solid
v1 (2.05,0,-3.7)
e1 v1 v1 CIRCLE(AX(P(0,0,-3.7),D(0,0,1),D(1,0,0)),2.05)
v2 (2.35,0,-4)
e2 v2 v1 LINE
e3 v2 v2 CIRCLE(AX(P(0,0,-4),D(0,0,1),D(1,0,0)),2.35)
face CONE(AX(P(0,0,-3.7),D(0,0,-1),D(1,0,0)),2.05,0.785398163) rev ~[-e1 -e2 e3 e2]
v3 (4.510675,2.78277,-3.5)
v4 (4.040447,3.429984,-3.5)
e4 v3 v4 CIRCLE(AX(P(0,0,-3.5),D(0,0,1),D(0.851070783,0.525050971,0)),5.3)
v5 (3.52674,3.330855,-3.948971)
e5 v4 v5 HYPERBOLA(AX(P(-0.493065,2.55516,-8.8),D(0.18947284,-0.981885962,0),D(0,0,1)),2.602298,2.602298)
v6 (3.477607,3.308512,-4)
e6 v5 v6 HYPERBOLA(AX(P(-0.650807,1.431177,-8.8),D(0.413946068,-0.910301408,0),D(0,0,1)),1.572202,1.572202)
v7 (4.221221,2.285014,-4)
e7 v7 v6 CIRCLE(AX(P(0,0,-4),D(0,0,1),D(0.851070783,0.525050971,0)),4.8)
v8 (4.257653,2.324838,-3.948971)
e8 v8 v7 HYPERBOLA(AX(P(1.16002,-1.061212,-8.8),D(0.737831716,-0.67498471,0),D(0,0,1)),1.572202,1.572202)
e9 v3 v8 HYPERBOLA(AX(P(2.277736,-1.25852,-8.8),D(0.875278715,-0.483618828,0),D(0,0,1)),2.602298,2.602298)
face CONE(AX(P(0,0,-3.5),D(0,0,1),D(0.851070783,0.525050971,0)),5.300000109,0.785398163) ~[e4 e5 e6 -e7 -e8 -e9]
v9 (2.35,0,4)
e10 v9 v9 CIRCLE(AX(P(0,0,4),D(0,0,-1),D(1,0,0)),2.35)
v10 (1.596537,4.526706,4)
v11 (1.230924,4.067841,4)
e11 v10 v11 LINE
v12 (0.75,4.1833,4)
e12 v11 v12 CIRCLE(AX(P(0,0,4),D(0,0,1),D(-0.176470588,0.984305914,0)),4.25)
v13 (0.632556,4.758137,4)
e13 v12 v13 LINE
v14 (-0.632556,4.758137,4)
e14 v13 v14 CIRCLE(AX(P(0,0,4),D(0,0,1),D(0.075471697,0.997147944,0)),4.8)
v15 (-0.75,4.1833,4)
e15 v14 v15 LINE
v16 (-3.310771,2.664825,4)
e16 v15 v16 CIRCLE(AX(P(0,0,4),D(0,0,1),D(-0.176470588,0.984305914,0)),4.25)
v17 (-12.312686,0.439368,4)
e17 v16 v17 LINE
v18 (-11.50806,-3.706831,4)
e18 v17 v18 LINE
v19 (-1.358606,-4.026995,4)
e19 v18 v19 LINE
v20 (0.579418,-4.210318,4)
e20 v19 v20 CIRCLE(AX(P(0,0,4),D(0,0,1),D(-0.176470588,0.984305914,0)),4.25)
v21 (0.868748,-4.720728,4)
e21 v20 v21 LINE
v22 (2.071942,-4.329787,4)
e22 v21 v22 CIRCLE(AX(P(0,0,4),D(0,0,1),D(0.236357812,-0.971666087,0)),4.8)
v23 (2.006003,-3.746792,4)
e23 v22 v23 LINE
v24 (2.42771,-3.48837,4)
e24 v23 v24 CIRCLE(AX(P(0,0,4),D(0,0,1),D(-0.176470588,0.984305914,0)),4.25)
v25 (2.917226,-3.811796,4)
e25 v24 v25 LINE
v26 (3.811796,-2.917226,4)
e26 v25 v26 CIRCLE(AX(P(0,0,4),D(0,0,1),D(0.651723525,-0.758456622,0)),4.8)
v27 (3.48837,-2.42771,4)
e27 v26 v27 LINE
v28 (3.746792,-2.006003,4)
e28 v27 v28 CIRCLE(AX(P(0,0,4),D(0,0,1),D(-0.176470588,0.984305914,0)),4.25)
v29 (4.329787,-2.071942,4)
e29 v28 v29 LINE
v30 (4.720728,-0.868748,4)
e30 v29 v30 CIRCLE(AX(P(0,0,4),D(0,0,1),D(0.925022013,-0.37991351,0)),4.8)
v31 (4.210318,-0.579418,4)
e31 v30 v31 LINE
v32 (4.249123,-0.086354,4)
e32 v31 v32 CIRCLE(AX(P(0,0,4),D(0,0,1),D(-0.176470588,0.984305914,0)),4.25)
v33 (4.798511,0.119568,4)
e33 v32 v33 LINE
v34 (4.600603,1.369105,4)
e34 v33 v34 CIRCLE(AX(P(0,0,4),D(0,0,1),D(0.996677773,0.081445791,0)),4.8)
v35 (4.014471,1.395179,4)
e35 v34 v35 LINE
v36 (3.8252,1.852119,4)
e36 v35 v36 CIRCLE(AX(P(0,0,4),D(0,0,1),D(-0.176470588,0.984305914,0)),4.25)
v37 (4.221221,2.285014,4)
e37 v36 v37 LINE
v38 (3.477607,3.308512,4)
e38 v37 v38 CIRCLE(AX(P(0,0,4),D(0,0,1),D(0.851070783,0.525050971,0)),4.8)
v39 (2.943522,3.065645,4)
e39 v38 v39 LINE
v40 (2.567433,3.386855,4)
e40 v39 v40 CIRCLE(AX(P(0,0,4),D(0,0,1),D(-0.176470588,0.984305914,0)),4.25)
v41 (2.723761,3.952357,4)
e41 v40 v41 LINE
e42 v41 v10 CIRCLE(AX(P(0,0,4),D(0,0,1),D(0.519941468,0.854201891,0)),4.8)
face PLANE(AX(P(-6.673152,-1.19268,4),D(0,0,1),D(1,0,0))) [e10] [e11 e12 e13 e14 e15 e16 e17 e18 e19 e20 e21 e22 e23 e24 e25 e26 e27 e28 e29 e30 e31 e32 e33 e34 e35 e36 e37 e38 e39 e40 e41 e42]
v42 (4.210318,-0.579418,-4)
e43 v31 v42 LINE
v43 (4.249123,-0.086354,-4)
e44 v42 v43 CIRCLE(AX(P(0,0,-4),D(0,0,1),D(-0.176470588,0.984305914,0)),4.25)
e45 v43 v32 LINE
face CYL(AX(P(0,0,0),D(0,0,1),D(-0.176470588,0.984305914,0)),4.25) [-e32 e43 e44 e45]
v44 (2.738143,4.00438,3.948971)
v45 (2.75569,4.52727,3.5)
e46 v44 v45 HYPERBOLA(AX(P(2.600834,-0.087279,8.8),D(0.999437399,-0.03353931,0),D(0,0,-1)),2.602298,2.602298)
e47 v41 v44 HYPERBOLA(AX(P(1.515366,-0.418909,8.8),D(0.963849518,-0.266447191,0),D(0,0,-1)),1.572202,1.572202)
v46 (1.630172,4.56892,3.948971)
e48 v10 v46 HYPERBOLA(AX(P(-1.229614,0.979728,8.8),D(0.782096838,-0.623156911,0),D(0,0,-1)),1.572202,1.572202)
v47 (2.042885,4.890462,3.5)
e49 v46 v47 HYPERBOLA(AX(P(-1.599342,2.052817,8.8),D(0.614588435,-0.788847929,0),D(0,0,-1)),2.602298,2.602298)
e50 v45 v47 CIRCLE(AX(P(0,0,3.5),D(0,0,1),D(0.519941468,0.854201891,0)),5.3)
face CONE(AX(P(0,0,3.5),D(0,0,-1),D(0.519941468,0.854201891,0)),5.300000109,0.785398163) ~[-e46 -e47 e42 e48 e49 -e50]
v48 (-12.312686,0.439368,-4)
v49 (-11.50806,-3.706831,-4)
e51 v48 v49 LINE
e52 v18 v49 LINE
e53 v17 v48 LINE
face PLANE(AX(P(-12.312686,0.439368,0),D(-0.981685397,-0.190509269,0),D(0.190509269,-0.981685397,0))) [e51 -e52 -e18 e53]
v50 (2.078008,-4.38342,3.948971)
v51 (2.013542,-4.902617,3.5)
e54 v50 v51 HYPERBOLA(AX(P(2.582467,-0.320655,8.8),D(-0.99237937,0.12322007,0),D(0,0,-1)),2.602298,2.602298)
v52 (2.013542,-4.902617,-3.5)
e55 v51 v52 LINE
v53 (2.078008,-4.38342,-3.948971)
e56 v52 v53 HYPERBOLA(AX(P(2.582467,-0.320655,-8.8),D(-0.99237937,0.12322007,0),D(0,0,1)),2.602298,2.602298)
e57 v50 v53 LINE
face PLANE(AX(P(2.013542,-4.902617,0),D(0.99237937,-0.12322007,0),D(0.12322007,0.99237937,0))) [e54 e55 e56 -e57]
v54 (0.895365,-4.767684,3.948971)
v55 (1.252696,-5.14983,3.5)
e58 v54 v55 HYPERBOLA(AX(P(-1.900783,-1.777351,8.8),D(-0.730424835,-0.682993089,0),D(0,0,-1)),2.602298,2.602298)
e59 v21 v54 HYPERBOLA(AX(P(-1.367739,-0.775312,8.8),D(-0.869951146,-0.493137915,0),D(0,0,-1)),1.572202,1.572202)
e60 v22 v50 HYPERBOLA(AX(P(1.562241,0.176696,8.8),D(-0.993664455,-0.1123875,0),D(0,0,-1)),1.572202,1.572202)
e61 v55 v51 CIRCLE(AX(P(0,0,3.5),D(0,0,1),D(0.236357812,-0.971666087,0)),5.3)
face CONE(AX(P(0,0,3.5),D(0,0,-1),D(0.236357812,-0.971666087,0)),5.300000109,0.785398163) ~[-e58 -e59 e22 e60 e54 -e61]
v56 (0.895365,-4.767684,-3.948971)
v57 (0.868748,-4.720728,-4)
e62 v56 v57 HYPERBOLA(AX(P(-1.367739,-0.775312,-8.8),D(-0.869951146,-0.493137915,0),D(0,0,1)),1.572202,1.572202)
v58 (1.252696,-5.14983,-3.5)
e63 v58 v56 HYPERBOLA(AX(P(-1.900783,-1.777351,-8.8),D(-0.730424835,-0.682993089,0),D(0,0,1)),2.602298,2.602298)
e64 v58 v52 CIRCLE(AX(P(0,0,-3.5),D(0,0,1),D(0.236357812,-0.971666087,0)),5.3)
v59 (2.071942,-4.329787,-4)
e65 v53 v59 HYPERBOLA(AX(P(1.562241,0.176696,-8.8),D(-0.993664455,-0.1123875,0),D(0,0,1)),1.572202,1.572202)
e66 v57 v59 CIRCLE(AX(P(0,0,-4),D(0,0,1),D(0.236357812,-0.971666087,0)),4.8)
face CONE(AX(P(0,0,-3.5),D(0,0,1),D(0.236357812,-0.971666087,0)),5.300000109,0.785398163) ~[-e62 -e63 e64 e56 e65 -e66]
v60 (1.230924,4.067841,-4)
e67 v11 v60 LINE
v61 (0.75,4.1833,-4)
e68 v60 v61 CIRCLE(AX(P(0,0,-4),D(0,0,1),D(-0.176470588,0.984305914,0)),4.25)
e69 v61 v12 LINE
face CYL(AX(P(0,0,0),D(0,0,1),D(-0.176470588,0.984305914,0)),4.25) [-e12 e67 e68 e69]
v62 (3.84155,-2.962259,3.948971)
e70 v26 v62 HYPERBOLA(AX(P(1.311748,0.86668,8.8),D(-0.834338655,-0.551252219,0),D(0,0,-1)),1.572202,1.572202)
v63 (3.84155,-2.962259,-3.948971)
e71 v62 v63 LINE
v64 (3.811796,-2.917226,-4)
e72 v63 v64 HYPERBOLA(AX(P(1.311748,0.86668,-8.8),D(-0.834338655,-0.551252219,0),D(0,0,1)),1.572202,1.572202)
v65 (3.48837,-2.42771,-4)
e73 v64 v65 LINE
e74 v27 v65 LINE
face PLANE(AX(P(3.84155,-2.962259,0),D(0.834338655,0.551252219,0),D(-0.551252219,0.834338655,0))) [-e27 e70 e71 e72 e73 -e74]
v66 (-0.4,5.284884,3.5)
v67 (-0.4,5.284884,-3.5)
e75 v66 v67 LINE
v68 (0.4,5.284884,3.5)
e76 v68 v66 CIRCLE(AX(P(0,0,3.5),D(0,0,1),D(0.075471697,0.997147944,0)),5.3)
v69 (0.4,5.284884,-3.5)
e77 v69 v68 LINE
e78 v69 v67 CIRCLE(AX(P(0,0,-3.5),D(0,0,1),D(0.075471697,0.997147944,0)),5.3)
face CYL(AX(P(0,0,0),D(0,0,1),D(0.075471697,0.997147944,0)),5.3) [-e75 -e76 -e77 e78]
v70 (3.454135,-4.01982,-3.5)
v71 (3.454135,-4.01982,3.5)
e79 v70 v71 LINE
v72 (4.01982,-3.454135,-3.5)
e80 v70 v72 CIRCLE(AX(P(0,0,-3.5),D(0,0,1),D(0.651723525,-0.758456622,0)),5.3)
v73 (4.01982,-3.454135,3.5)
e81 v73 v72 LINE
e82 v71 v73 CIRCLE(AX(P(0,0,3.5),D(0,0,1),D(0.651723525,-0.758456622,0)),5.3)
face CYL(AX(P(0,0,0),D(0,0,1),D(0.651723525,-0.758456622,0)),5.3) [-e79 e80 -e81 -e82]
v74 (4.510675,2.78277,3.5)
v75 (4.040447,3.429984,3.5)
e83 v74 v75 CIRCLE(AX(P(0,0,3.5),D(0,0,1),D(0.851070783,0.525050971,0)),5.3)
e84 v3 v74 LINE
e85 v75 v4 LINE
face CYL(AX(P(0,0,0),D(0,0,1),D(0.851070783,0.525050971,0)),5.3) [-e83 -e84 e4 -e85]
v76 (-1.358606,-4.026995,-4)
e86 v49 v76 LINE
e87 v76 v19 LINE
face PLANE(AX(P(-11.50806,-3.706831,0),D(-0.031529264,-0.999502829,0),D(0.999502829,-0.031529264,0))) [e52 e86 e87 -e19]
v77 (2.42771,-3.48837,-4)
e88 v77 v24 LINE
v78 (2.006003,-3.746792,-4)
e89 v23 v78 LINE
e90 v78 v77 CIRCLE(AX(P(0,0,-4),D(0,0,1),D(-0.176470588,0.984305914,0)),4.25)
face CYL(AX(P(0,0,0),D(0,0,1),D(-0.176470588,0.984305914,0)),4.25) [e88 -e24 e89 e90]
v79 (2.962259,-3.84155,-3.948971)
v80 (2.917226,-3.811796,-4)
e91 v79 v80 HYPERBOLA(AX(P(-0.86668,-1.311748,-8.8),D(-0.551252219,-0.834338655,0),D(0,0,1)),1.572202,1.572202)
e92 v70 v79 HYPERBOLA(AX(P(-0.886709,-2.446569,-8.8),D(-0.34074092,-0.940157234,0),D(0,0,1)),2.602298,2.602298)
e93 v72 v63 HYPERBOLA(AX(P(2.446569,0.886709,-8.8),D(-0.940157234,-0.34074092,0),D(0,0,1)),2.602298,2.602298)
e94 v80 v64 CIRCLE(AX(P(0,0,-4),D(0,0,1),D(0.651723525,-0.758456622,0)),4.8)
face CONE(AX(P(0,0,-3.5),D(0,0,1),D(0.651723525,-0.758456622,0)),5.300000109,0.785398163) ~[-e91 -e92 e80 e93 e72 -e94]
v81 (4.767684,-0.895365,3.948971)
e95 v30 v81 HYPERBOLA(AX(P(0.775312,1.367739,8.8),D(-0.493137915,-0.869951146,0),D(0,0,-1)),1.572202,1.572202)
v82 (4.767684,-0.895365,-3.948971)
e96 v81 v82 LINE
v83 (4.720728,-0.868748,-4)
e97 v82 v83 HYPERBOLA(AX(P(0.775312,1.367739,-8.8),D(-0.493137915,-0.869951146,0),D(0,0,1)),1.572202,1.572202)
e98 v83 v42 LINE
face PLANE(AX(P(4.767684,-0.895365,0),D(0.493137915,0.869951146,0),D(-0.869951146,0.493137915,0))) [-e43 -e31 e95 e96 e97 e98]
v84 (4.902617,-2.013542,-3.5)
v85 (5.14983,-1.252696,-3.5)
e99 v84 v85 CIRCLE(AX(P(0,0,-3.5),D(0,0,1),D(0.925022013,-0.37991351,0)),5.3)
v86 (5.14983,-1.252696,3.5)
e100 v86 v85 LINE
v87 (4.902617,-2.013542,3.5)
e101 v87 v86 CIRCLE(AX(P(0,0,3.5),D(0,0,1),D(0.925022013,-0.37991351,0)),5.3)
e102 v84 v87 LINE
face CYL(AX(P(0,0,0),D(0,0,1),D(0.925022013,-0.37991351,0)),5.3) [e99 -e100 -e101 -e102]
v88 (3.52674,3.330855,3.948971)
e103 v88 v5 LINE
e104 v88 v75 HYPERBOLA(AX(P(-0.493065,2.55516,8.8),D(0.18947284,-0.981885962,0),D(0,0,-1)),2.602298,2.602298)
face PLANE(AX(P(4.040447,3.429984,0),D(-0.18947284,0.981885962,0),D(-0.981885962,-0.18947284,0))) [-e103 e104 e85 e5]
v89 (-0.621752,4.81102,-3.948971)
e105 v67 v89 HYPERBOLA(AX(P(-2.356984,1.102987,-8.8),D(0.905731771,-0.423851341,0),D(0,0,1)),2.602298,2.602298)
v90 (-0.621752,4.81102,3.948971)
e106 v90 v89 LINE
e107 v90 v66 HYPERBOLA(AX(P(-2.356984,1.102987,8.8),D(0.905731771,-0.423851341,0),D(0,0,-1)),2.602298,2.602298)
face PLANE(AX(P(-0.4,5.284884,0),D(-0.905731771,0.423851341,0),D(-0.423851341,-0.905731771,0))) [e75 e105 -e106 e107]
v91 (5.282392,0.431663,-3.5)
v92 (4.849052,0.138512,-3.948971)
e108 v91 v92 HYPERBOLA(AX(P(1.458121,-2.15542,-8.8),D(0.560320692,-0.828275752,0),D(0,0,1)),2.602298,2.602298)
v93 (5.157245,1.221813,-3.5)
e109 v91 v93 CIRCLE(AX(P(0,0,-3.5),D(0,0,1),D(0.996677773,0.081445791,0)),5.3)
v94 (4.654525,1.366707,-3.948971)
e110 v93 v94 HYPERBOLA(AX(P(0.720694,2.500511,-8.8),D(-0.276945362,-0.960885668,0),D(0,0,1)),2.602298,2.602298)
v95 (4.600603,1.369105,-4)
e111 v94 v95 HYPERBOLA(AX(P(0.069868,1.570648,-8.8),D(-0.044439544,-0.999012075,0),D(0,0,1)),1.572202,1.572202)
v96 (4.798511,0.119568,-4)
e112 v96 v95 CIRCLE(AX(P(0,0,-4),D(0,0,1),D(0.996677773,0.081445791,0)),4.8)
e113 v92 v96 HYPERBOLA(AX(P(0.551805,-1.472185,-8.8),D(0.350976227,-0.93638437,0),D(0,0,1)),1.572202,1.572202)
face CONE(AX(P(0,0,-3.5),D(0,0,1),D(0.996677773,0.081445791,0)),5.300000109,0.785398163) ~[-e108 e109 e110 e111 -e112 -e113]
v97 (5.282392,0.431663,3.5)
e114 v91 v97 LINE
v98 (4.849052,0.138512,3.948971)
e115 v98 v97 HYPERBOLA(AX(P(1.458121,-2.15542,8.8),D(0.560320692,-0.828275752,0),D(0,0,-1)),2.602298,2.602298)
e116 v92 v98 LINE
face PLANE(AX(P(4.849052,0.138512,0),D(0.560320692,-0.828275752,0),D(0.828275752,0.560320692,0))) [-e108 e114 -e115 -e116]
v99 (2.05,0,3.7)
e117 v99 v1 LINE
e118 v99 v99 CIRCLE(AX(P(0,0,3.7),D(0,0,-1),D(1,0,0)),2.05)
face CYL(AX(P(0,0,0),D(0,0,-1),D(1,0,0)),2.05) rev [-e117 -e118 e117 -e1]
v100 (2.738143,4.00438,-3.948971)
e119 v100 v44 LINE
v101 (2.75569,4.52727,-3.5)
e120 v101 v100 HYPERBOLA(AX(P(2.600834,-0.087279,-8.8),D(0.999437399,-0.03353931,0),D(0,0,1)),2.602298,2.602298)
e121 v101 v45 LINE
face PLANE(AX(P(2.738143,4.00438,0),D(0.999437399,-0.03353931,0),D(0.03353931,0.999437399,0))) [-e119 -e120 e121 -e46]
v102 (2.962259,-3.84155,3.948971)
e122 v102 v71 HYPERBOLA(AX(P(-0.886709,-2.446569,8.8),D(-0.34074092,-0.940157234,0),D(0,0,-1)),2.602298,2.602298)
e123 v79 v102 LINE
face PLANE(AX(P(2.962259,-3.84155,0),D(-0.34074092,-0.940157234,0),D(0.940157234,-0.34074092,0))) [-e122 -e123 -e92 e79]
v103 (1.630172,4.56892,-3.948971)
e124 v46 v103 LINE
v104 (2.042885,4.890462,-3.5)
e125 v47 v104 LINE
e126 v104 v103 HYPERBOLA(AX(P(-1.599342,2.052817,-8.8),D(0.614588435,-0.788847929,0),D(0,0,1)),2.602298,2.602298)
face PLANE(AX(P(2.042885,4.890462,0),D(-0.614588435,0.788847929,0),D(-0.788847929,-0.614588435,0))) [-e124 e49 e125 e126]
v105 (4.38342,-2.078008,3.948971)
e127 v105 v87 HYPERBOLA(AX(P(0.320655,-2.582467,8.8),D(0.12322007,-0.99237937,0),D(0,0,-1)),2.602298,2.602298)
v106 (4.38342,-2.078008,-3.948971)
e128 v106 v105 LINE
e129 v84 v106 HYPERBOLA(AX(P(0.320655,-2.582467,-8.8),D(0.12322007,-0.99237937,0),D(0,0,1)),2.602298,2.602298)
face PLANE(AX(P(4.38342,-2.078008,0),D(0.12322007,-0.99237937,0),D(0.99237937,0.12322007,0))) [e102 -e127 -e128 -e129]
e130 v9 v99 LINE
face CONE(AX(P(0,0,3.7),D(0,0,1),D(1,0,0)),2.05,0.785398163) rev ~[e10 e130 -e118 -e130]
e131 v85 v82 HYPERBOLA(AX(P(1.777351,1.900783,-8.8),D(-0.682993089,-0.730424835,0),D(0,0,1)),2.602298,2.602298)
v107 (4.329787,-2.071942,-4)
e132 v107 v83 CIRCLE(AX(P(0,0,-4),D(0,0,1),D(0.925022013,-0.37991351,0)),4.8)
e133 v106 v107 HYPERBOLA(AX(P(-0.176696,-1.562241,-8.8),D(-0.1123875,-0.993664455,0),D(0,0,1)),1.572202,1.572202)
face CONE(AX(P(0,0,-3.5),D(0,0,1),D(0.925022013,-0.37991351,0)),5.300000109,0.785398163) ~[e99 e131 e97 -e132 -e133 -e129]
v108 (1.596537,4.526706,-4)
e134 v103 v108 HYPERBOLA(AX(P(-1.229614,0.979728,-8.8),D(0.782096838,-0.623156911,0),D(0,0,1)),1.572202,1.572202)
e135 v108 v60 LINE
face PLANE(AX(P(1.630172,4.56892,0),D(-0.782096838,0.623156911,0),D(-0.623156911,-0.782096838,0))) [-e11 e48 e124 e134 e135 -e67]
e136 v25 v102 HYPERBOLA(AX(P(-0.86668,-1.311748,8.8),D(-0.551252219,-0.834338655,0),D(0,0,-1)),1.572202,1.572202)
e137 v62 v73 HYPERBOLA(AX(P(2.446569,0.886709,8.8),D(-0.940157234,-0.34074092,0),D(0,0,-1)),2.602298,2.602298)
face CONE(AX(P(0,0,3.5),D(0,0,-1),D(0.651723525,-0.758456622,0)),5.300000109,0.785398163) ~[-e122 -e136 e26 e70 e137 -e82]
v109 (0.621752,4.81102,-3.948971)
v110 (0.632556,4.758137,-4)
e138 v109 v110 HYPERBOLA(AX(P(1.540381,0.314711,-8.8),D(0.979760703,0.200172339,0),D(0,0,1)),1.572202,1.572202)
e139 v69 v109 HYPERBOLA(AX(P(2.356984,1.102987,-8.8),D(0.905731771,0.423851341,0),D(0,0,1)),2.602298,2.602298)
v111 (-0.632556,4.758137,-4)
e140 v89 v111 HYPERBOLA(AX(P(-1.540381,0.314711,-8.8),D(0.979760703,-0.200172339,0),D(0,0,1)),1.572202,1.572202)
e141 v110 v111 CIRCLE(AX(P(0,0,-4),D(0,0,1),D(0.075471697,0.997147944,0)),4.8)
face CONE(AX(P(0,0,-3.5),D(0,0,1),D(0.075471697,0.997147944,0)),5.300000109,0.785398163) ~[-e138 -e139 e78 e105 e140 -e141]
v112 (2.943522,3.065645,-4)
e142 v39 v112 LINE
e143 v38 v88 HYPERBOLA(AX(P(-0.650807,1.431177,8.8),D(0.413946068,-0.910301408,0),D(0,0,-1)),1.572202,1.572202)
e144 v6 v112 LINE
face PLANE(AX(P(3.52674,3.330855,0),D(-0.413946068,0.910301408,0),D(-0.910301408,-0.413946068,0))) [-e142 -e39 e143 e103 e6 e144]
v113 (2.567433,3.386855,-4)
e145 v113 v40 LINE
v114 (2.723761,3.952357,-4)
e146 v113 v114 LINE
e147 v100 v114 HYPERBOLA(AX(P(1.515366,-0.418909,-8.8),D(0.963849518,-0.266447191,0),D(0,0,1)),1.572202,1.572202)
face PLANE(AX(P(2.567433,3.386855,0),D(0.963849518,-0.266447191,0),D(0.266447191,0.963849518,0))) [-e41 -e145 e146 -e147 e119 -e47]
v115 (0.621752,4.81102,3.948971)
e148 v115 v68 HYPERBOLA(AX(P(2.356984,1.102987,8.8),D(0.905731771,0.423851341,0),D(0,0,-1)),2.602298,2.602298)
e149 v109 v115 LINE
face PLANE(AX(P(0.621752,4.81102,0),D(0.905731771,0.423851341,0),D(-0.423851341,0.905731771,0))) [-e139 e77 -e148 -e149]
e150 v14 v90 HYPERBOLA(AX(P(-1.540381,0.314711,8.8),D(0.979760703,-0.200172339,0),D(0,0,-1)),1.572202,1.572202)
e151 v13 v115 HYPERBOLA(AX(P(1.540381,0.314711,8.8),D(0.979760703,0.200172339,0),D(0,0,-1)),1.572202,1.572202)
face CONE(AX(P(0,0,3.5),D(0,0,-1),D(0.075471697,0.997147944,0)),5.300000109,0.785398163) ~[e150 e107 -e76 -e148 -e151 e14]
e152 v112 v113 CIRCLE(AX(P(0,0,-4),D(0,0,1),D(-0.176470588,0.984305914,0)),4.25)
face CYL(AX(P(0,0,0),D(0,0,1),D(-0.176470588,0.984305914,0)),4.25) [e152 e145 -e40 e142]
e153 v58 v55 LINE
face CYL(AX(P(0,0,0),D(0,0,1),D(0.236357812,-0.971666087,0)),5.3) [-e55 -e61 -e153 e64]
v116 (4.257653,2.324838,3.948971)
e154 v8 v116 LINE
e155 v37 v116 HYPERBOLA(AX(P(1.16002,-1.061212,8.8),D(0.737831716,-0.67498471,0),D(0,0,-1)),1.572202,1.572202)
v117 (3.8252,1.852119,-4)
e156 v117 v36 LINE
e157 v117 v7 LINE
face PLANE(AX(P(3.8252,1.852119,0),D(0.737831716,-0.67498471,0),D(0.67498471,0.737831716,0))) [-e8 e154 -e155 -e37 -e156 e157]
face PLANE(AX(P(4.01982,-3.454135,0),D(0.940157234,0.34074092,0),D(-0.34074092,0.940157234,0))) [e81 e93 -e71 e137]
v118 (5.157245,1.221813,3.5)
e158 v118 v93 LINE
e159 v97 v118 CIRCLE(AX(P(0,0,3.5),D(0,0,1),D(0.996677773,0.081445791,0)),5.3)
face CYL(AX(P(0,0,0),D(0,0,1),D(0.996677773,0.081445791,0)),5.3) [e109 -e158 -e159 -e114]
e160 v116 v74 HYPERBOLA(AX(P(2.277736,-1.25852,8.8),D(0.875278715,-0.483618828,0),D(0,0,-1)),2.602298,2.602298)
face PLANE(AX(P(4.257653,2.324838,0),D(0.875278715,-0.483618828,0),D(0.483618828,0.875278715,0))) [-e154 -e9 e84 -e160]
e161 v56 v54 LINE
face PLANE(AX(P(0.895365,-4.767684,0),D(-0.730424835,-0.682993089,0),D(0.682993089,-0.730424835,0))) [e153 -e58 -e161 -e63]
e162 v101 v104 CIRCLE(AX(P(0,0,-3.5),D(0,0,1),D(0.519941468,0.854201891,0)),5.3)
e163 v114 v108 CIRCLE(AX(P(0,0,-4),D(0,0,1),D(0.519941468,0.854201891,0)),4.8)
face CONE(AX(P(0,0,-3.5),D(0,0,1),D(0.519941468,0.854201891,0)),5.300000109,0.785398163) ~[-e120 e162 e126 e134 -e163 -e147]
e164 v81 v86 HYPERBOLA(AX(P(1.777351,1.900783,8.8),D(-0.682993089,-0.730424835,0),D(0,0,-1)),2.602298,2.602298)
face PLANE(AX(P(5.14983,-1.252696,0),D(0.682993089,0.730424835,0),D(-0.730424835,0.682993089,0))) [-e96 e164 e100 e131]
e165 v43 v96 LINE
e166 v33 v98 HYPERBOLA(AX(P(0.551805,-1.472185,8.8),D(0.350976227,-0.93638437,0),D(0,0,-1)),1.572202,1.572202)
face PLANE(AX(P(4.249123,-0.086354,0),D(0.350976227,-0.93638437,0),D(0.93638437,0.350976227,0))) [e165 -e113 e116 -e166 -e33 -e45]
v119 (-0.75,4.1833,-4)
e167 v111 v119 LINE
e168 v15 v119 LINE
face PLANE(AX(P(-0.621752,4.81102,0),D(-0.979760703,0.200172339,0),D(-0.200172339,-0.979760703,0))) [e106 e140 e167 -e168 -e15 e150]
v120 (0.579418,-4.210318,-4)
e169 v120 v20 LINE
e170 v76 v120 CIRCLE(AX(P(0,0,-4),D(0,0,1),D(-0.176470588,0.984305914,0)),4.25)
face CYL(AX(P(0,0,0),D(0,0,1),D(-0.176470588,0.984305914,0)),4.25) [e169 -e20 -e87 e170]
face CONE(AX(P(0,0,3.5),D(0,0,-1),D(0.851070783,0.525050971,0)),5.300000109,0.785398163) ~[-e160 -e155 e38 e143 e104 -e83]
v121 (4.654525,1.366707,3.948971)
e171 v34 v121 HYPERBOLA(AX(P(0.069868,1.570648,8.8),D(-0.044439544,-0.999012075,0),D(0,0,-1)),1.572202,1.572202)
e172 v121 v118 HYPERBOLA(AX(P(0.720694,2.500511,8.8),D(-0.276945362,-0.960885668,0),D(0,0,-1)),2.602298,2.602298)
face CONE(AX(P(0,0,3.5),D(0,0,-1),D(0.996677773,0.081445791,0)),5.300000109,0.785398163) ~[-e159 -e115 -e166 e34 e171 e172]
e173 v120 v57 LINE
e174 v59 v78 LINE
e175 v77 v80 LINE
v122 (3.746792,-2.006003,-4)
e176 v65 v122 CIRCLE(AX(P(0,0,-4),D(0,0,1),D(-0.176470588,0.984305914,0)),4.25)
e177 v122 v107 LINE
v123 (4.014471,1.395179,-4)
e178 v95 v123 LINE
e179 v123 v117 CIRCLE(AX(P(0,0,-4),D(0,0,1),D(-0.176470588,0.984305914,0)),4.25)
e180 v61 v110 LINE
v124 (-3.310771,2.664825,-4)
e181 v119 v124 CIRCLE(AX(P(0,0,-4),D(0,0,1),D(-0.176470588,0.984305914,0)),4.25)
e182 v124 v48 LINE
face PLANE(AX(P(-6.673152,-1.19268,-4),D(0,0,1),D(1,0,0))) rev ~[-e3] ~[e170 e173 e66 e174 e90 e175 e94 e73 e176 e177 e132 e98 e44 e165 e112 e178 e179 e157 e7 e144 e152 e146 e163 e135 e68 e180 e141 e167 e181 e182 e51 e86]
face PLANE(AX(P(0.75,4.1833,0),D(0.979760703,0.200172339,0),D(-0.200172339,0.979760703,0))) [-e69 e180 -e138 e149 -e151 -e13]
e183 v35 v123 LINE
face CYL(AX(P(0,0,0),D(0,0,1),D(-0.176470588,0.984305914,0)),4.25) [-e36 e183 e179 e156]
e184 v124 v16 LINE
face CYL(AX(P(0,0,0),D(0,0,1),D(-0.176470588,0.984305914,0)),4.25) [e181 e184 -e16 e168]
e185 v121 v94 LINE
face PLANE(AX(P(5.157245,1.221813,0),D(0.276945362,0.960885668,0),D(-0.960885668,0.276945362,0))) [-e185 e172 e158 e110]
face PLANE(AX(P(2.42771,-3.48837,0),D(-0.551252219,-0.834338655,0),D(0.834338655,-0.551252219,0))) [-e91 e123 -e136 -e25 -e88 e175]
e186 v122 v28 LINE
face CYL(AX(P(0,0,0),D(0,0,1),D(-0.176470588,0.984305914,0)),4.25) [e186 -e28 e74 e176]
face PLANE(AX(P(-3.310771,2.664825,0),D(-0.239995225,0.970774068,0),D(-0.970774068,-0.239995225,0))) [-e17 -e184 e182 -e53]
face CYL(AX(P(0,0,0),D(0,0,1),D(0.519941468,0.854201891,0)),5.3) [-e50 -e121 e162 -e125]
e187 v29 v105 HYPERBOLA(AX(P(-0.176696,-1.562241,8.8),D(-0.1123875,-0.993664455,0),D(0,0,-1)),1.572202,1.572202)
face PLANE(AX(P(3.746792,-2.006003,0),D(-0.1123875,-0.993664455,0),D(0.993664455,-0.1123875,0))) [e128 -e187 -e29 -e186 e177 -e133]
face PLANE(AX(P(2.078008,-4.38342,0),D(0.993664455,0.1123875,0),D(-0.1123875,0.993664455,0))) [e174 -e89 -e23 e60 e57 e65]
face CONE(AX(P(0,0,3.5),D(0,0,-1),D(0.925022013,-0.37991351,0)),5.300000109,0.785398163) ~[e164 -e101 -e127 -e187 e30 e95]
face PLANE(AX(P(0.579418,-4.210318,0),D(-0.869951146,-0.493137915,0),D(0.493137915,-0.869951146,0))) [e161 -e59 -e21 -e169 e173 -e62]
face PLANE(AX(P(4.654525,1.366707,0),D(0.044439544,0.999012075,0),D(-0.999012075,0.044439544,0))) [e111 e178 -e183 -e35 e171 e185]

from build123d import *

# Parameters (mm, degrees)
SKETCH_1_R               = 2.05
EXTRUDE_1_DEPTH          = 4
PATTERN_CIRCULAR_1_COUNT = 7
PATTERN_CIRCULAR_1_ANGLE = 162
CHAMFER_1_SIZE           = 0.5
CHAMFER_2_SIZE           = 0.5
CHAMFER_3_SIZE           = 0.3
EXTRUDE_2_DEPTH          = 4


with BuildPart() as part:
    # 스케치1 → 보스-돌출1 (new, symmetric)
    with BuildSketch(Plane.XY):
        with BuildLine():
            ThreePointArc((-0.75, 4.183300133), (0, -4.25), (0.75, 4.183300133))
            Line((0.75, 4.183300133), (0.621752267, 4.811019676))
            Line((0.621752267, 4.811019676), (0.4, 5.284884105))
            ThreePointArc((0.4, 5.284884105), (0, 5.3), (-0.4, 5.284884105))
            Line((-0.4, 5.284884105), (-0.621752267, 4.811019676))
            Line((-0.621752267, 4.811019676), (-0.75, 4.183300133))
        make_face()
        Circle(SKETCH_1_R, mode=Mode.SUBTRACT)
    extrude_1 = extrude(amount=EXTRUDE_1_DEPTH, both=True)

    # 원형 패턴1: 보스-돌출1 ×7 about axis
    pattern_circular_1_axis = Axis((0, 0, 0), (0, 0, -1))
    for i in range(1, PATTERN_CIRCULAR_1_COUNT):
        add(extrude_1.rotate(pattern_circular_1_axis, i * PATTERN_CIRCULAR_1_ANGLE / (PATTERN_CIRCULAR_1_COUNT - 1)))

    # 모따기1
    chamfer_1_edges = [part.edges().sort_by_distance(p)[0] for p in [
        (0, 5.3, -4),
        (1.63779007, -5.040599536, -4),
        (3.74766594, -3.74766594, -4),
        (5.040599536, -1.63779007, -4),
        (5.234748205, 0.829102665, -4),
        (4.28779007, 3.115261837, -4),
        (2.406149649, 4.722334578, -4),
    ]]
    chamfer(chamfer_1_edges, length=CHAMFER_1_SIZE)

    # 모따기2
    chamfer_2_edges = [part.edges().sort_by_distance(p)[0] for p in [
        (0, 5.3, 4),
        (2.406149649, 4.722334578, 4),
        (4.28779007, 3.115261837, 4),
        (5.234748205, 0.829102665, 4),
        (5.040599536, -1.63779007, 4),
        (3.74766594, -3.74766594, 4),
        (1.63779007, -5.040599536, 4),
    ]]
    chamfer(chamfer_2_edges, length=CHAMFER_2_SIZE)

    # 모따기3
    chamfer_3_edges = [part.edges().sort_by_distance(p)[0] for p in [
        (-2.05, 0, 4),
        (-2.05, 0, -4),
    ]]
    chamfer(chamfer_3_edges, length=CHAMFER_3_SIZE)

    # 스케치4 → 보스-돌출2 (add, symmetric)
    with BuildSketch(Plane.XY):
        Polygon((-11.50806015, -3.706831149), (-1.358605926, -4.02699515), (-3.310771403, 2.664825081), (-12.312685829, 0.439367534), align=None)
    extrude(amount=EXTRUDE_2_DEPTH, both=True)


solid = part.part
